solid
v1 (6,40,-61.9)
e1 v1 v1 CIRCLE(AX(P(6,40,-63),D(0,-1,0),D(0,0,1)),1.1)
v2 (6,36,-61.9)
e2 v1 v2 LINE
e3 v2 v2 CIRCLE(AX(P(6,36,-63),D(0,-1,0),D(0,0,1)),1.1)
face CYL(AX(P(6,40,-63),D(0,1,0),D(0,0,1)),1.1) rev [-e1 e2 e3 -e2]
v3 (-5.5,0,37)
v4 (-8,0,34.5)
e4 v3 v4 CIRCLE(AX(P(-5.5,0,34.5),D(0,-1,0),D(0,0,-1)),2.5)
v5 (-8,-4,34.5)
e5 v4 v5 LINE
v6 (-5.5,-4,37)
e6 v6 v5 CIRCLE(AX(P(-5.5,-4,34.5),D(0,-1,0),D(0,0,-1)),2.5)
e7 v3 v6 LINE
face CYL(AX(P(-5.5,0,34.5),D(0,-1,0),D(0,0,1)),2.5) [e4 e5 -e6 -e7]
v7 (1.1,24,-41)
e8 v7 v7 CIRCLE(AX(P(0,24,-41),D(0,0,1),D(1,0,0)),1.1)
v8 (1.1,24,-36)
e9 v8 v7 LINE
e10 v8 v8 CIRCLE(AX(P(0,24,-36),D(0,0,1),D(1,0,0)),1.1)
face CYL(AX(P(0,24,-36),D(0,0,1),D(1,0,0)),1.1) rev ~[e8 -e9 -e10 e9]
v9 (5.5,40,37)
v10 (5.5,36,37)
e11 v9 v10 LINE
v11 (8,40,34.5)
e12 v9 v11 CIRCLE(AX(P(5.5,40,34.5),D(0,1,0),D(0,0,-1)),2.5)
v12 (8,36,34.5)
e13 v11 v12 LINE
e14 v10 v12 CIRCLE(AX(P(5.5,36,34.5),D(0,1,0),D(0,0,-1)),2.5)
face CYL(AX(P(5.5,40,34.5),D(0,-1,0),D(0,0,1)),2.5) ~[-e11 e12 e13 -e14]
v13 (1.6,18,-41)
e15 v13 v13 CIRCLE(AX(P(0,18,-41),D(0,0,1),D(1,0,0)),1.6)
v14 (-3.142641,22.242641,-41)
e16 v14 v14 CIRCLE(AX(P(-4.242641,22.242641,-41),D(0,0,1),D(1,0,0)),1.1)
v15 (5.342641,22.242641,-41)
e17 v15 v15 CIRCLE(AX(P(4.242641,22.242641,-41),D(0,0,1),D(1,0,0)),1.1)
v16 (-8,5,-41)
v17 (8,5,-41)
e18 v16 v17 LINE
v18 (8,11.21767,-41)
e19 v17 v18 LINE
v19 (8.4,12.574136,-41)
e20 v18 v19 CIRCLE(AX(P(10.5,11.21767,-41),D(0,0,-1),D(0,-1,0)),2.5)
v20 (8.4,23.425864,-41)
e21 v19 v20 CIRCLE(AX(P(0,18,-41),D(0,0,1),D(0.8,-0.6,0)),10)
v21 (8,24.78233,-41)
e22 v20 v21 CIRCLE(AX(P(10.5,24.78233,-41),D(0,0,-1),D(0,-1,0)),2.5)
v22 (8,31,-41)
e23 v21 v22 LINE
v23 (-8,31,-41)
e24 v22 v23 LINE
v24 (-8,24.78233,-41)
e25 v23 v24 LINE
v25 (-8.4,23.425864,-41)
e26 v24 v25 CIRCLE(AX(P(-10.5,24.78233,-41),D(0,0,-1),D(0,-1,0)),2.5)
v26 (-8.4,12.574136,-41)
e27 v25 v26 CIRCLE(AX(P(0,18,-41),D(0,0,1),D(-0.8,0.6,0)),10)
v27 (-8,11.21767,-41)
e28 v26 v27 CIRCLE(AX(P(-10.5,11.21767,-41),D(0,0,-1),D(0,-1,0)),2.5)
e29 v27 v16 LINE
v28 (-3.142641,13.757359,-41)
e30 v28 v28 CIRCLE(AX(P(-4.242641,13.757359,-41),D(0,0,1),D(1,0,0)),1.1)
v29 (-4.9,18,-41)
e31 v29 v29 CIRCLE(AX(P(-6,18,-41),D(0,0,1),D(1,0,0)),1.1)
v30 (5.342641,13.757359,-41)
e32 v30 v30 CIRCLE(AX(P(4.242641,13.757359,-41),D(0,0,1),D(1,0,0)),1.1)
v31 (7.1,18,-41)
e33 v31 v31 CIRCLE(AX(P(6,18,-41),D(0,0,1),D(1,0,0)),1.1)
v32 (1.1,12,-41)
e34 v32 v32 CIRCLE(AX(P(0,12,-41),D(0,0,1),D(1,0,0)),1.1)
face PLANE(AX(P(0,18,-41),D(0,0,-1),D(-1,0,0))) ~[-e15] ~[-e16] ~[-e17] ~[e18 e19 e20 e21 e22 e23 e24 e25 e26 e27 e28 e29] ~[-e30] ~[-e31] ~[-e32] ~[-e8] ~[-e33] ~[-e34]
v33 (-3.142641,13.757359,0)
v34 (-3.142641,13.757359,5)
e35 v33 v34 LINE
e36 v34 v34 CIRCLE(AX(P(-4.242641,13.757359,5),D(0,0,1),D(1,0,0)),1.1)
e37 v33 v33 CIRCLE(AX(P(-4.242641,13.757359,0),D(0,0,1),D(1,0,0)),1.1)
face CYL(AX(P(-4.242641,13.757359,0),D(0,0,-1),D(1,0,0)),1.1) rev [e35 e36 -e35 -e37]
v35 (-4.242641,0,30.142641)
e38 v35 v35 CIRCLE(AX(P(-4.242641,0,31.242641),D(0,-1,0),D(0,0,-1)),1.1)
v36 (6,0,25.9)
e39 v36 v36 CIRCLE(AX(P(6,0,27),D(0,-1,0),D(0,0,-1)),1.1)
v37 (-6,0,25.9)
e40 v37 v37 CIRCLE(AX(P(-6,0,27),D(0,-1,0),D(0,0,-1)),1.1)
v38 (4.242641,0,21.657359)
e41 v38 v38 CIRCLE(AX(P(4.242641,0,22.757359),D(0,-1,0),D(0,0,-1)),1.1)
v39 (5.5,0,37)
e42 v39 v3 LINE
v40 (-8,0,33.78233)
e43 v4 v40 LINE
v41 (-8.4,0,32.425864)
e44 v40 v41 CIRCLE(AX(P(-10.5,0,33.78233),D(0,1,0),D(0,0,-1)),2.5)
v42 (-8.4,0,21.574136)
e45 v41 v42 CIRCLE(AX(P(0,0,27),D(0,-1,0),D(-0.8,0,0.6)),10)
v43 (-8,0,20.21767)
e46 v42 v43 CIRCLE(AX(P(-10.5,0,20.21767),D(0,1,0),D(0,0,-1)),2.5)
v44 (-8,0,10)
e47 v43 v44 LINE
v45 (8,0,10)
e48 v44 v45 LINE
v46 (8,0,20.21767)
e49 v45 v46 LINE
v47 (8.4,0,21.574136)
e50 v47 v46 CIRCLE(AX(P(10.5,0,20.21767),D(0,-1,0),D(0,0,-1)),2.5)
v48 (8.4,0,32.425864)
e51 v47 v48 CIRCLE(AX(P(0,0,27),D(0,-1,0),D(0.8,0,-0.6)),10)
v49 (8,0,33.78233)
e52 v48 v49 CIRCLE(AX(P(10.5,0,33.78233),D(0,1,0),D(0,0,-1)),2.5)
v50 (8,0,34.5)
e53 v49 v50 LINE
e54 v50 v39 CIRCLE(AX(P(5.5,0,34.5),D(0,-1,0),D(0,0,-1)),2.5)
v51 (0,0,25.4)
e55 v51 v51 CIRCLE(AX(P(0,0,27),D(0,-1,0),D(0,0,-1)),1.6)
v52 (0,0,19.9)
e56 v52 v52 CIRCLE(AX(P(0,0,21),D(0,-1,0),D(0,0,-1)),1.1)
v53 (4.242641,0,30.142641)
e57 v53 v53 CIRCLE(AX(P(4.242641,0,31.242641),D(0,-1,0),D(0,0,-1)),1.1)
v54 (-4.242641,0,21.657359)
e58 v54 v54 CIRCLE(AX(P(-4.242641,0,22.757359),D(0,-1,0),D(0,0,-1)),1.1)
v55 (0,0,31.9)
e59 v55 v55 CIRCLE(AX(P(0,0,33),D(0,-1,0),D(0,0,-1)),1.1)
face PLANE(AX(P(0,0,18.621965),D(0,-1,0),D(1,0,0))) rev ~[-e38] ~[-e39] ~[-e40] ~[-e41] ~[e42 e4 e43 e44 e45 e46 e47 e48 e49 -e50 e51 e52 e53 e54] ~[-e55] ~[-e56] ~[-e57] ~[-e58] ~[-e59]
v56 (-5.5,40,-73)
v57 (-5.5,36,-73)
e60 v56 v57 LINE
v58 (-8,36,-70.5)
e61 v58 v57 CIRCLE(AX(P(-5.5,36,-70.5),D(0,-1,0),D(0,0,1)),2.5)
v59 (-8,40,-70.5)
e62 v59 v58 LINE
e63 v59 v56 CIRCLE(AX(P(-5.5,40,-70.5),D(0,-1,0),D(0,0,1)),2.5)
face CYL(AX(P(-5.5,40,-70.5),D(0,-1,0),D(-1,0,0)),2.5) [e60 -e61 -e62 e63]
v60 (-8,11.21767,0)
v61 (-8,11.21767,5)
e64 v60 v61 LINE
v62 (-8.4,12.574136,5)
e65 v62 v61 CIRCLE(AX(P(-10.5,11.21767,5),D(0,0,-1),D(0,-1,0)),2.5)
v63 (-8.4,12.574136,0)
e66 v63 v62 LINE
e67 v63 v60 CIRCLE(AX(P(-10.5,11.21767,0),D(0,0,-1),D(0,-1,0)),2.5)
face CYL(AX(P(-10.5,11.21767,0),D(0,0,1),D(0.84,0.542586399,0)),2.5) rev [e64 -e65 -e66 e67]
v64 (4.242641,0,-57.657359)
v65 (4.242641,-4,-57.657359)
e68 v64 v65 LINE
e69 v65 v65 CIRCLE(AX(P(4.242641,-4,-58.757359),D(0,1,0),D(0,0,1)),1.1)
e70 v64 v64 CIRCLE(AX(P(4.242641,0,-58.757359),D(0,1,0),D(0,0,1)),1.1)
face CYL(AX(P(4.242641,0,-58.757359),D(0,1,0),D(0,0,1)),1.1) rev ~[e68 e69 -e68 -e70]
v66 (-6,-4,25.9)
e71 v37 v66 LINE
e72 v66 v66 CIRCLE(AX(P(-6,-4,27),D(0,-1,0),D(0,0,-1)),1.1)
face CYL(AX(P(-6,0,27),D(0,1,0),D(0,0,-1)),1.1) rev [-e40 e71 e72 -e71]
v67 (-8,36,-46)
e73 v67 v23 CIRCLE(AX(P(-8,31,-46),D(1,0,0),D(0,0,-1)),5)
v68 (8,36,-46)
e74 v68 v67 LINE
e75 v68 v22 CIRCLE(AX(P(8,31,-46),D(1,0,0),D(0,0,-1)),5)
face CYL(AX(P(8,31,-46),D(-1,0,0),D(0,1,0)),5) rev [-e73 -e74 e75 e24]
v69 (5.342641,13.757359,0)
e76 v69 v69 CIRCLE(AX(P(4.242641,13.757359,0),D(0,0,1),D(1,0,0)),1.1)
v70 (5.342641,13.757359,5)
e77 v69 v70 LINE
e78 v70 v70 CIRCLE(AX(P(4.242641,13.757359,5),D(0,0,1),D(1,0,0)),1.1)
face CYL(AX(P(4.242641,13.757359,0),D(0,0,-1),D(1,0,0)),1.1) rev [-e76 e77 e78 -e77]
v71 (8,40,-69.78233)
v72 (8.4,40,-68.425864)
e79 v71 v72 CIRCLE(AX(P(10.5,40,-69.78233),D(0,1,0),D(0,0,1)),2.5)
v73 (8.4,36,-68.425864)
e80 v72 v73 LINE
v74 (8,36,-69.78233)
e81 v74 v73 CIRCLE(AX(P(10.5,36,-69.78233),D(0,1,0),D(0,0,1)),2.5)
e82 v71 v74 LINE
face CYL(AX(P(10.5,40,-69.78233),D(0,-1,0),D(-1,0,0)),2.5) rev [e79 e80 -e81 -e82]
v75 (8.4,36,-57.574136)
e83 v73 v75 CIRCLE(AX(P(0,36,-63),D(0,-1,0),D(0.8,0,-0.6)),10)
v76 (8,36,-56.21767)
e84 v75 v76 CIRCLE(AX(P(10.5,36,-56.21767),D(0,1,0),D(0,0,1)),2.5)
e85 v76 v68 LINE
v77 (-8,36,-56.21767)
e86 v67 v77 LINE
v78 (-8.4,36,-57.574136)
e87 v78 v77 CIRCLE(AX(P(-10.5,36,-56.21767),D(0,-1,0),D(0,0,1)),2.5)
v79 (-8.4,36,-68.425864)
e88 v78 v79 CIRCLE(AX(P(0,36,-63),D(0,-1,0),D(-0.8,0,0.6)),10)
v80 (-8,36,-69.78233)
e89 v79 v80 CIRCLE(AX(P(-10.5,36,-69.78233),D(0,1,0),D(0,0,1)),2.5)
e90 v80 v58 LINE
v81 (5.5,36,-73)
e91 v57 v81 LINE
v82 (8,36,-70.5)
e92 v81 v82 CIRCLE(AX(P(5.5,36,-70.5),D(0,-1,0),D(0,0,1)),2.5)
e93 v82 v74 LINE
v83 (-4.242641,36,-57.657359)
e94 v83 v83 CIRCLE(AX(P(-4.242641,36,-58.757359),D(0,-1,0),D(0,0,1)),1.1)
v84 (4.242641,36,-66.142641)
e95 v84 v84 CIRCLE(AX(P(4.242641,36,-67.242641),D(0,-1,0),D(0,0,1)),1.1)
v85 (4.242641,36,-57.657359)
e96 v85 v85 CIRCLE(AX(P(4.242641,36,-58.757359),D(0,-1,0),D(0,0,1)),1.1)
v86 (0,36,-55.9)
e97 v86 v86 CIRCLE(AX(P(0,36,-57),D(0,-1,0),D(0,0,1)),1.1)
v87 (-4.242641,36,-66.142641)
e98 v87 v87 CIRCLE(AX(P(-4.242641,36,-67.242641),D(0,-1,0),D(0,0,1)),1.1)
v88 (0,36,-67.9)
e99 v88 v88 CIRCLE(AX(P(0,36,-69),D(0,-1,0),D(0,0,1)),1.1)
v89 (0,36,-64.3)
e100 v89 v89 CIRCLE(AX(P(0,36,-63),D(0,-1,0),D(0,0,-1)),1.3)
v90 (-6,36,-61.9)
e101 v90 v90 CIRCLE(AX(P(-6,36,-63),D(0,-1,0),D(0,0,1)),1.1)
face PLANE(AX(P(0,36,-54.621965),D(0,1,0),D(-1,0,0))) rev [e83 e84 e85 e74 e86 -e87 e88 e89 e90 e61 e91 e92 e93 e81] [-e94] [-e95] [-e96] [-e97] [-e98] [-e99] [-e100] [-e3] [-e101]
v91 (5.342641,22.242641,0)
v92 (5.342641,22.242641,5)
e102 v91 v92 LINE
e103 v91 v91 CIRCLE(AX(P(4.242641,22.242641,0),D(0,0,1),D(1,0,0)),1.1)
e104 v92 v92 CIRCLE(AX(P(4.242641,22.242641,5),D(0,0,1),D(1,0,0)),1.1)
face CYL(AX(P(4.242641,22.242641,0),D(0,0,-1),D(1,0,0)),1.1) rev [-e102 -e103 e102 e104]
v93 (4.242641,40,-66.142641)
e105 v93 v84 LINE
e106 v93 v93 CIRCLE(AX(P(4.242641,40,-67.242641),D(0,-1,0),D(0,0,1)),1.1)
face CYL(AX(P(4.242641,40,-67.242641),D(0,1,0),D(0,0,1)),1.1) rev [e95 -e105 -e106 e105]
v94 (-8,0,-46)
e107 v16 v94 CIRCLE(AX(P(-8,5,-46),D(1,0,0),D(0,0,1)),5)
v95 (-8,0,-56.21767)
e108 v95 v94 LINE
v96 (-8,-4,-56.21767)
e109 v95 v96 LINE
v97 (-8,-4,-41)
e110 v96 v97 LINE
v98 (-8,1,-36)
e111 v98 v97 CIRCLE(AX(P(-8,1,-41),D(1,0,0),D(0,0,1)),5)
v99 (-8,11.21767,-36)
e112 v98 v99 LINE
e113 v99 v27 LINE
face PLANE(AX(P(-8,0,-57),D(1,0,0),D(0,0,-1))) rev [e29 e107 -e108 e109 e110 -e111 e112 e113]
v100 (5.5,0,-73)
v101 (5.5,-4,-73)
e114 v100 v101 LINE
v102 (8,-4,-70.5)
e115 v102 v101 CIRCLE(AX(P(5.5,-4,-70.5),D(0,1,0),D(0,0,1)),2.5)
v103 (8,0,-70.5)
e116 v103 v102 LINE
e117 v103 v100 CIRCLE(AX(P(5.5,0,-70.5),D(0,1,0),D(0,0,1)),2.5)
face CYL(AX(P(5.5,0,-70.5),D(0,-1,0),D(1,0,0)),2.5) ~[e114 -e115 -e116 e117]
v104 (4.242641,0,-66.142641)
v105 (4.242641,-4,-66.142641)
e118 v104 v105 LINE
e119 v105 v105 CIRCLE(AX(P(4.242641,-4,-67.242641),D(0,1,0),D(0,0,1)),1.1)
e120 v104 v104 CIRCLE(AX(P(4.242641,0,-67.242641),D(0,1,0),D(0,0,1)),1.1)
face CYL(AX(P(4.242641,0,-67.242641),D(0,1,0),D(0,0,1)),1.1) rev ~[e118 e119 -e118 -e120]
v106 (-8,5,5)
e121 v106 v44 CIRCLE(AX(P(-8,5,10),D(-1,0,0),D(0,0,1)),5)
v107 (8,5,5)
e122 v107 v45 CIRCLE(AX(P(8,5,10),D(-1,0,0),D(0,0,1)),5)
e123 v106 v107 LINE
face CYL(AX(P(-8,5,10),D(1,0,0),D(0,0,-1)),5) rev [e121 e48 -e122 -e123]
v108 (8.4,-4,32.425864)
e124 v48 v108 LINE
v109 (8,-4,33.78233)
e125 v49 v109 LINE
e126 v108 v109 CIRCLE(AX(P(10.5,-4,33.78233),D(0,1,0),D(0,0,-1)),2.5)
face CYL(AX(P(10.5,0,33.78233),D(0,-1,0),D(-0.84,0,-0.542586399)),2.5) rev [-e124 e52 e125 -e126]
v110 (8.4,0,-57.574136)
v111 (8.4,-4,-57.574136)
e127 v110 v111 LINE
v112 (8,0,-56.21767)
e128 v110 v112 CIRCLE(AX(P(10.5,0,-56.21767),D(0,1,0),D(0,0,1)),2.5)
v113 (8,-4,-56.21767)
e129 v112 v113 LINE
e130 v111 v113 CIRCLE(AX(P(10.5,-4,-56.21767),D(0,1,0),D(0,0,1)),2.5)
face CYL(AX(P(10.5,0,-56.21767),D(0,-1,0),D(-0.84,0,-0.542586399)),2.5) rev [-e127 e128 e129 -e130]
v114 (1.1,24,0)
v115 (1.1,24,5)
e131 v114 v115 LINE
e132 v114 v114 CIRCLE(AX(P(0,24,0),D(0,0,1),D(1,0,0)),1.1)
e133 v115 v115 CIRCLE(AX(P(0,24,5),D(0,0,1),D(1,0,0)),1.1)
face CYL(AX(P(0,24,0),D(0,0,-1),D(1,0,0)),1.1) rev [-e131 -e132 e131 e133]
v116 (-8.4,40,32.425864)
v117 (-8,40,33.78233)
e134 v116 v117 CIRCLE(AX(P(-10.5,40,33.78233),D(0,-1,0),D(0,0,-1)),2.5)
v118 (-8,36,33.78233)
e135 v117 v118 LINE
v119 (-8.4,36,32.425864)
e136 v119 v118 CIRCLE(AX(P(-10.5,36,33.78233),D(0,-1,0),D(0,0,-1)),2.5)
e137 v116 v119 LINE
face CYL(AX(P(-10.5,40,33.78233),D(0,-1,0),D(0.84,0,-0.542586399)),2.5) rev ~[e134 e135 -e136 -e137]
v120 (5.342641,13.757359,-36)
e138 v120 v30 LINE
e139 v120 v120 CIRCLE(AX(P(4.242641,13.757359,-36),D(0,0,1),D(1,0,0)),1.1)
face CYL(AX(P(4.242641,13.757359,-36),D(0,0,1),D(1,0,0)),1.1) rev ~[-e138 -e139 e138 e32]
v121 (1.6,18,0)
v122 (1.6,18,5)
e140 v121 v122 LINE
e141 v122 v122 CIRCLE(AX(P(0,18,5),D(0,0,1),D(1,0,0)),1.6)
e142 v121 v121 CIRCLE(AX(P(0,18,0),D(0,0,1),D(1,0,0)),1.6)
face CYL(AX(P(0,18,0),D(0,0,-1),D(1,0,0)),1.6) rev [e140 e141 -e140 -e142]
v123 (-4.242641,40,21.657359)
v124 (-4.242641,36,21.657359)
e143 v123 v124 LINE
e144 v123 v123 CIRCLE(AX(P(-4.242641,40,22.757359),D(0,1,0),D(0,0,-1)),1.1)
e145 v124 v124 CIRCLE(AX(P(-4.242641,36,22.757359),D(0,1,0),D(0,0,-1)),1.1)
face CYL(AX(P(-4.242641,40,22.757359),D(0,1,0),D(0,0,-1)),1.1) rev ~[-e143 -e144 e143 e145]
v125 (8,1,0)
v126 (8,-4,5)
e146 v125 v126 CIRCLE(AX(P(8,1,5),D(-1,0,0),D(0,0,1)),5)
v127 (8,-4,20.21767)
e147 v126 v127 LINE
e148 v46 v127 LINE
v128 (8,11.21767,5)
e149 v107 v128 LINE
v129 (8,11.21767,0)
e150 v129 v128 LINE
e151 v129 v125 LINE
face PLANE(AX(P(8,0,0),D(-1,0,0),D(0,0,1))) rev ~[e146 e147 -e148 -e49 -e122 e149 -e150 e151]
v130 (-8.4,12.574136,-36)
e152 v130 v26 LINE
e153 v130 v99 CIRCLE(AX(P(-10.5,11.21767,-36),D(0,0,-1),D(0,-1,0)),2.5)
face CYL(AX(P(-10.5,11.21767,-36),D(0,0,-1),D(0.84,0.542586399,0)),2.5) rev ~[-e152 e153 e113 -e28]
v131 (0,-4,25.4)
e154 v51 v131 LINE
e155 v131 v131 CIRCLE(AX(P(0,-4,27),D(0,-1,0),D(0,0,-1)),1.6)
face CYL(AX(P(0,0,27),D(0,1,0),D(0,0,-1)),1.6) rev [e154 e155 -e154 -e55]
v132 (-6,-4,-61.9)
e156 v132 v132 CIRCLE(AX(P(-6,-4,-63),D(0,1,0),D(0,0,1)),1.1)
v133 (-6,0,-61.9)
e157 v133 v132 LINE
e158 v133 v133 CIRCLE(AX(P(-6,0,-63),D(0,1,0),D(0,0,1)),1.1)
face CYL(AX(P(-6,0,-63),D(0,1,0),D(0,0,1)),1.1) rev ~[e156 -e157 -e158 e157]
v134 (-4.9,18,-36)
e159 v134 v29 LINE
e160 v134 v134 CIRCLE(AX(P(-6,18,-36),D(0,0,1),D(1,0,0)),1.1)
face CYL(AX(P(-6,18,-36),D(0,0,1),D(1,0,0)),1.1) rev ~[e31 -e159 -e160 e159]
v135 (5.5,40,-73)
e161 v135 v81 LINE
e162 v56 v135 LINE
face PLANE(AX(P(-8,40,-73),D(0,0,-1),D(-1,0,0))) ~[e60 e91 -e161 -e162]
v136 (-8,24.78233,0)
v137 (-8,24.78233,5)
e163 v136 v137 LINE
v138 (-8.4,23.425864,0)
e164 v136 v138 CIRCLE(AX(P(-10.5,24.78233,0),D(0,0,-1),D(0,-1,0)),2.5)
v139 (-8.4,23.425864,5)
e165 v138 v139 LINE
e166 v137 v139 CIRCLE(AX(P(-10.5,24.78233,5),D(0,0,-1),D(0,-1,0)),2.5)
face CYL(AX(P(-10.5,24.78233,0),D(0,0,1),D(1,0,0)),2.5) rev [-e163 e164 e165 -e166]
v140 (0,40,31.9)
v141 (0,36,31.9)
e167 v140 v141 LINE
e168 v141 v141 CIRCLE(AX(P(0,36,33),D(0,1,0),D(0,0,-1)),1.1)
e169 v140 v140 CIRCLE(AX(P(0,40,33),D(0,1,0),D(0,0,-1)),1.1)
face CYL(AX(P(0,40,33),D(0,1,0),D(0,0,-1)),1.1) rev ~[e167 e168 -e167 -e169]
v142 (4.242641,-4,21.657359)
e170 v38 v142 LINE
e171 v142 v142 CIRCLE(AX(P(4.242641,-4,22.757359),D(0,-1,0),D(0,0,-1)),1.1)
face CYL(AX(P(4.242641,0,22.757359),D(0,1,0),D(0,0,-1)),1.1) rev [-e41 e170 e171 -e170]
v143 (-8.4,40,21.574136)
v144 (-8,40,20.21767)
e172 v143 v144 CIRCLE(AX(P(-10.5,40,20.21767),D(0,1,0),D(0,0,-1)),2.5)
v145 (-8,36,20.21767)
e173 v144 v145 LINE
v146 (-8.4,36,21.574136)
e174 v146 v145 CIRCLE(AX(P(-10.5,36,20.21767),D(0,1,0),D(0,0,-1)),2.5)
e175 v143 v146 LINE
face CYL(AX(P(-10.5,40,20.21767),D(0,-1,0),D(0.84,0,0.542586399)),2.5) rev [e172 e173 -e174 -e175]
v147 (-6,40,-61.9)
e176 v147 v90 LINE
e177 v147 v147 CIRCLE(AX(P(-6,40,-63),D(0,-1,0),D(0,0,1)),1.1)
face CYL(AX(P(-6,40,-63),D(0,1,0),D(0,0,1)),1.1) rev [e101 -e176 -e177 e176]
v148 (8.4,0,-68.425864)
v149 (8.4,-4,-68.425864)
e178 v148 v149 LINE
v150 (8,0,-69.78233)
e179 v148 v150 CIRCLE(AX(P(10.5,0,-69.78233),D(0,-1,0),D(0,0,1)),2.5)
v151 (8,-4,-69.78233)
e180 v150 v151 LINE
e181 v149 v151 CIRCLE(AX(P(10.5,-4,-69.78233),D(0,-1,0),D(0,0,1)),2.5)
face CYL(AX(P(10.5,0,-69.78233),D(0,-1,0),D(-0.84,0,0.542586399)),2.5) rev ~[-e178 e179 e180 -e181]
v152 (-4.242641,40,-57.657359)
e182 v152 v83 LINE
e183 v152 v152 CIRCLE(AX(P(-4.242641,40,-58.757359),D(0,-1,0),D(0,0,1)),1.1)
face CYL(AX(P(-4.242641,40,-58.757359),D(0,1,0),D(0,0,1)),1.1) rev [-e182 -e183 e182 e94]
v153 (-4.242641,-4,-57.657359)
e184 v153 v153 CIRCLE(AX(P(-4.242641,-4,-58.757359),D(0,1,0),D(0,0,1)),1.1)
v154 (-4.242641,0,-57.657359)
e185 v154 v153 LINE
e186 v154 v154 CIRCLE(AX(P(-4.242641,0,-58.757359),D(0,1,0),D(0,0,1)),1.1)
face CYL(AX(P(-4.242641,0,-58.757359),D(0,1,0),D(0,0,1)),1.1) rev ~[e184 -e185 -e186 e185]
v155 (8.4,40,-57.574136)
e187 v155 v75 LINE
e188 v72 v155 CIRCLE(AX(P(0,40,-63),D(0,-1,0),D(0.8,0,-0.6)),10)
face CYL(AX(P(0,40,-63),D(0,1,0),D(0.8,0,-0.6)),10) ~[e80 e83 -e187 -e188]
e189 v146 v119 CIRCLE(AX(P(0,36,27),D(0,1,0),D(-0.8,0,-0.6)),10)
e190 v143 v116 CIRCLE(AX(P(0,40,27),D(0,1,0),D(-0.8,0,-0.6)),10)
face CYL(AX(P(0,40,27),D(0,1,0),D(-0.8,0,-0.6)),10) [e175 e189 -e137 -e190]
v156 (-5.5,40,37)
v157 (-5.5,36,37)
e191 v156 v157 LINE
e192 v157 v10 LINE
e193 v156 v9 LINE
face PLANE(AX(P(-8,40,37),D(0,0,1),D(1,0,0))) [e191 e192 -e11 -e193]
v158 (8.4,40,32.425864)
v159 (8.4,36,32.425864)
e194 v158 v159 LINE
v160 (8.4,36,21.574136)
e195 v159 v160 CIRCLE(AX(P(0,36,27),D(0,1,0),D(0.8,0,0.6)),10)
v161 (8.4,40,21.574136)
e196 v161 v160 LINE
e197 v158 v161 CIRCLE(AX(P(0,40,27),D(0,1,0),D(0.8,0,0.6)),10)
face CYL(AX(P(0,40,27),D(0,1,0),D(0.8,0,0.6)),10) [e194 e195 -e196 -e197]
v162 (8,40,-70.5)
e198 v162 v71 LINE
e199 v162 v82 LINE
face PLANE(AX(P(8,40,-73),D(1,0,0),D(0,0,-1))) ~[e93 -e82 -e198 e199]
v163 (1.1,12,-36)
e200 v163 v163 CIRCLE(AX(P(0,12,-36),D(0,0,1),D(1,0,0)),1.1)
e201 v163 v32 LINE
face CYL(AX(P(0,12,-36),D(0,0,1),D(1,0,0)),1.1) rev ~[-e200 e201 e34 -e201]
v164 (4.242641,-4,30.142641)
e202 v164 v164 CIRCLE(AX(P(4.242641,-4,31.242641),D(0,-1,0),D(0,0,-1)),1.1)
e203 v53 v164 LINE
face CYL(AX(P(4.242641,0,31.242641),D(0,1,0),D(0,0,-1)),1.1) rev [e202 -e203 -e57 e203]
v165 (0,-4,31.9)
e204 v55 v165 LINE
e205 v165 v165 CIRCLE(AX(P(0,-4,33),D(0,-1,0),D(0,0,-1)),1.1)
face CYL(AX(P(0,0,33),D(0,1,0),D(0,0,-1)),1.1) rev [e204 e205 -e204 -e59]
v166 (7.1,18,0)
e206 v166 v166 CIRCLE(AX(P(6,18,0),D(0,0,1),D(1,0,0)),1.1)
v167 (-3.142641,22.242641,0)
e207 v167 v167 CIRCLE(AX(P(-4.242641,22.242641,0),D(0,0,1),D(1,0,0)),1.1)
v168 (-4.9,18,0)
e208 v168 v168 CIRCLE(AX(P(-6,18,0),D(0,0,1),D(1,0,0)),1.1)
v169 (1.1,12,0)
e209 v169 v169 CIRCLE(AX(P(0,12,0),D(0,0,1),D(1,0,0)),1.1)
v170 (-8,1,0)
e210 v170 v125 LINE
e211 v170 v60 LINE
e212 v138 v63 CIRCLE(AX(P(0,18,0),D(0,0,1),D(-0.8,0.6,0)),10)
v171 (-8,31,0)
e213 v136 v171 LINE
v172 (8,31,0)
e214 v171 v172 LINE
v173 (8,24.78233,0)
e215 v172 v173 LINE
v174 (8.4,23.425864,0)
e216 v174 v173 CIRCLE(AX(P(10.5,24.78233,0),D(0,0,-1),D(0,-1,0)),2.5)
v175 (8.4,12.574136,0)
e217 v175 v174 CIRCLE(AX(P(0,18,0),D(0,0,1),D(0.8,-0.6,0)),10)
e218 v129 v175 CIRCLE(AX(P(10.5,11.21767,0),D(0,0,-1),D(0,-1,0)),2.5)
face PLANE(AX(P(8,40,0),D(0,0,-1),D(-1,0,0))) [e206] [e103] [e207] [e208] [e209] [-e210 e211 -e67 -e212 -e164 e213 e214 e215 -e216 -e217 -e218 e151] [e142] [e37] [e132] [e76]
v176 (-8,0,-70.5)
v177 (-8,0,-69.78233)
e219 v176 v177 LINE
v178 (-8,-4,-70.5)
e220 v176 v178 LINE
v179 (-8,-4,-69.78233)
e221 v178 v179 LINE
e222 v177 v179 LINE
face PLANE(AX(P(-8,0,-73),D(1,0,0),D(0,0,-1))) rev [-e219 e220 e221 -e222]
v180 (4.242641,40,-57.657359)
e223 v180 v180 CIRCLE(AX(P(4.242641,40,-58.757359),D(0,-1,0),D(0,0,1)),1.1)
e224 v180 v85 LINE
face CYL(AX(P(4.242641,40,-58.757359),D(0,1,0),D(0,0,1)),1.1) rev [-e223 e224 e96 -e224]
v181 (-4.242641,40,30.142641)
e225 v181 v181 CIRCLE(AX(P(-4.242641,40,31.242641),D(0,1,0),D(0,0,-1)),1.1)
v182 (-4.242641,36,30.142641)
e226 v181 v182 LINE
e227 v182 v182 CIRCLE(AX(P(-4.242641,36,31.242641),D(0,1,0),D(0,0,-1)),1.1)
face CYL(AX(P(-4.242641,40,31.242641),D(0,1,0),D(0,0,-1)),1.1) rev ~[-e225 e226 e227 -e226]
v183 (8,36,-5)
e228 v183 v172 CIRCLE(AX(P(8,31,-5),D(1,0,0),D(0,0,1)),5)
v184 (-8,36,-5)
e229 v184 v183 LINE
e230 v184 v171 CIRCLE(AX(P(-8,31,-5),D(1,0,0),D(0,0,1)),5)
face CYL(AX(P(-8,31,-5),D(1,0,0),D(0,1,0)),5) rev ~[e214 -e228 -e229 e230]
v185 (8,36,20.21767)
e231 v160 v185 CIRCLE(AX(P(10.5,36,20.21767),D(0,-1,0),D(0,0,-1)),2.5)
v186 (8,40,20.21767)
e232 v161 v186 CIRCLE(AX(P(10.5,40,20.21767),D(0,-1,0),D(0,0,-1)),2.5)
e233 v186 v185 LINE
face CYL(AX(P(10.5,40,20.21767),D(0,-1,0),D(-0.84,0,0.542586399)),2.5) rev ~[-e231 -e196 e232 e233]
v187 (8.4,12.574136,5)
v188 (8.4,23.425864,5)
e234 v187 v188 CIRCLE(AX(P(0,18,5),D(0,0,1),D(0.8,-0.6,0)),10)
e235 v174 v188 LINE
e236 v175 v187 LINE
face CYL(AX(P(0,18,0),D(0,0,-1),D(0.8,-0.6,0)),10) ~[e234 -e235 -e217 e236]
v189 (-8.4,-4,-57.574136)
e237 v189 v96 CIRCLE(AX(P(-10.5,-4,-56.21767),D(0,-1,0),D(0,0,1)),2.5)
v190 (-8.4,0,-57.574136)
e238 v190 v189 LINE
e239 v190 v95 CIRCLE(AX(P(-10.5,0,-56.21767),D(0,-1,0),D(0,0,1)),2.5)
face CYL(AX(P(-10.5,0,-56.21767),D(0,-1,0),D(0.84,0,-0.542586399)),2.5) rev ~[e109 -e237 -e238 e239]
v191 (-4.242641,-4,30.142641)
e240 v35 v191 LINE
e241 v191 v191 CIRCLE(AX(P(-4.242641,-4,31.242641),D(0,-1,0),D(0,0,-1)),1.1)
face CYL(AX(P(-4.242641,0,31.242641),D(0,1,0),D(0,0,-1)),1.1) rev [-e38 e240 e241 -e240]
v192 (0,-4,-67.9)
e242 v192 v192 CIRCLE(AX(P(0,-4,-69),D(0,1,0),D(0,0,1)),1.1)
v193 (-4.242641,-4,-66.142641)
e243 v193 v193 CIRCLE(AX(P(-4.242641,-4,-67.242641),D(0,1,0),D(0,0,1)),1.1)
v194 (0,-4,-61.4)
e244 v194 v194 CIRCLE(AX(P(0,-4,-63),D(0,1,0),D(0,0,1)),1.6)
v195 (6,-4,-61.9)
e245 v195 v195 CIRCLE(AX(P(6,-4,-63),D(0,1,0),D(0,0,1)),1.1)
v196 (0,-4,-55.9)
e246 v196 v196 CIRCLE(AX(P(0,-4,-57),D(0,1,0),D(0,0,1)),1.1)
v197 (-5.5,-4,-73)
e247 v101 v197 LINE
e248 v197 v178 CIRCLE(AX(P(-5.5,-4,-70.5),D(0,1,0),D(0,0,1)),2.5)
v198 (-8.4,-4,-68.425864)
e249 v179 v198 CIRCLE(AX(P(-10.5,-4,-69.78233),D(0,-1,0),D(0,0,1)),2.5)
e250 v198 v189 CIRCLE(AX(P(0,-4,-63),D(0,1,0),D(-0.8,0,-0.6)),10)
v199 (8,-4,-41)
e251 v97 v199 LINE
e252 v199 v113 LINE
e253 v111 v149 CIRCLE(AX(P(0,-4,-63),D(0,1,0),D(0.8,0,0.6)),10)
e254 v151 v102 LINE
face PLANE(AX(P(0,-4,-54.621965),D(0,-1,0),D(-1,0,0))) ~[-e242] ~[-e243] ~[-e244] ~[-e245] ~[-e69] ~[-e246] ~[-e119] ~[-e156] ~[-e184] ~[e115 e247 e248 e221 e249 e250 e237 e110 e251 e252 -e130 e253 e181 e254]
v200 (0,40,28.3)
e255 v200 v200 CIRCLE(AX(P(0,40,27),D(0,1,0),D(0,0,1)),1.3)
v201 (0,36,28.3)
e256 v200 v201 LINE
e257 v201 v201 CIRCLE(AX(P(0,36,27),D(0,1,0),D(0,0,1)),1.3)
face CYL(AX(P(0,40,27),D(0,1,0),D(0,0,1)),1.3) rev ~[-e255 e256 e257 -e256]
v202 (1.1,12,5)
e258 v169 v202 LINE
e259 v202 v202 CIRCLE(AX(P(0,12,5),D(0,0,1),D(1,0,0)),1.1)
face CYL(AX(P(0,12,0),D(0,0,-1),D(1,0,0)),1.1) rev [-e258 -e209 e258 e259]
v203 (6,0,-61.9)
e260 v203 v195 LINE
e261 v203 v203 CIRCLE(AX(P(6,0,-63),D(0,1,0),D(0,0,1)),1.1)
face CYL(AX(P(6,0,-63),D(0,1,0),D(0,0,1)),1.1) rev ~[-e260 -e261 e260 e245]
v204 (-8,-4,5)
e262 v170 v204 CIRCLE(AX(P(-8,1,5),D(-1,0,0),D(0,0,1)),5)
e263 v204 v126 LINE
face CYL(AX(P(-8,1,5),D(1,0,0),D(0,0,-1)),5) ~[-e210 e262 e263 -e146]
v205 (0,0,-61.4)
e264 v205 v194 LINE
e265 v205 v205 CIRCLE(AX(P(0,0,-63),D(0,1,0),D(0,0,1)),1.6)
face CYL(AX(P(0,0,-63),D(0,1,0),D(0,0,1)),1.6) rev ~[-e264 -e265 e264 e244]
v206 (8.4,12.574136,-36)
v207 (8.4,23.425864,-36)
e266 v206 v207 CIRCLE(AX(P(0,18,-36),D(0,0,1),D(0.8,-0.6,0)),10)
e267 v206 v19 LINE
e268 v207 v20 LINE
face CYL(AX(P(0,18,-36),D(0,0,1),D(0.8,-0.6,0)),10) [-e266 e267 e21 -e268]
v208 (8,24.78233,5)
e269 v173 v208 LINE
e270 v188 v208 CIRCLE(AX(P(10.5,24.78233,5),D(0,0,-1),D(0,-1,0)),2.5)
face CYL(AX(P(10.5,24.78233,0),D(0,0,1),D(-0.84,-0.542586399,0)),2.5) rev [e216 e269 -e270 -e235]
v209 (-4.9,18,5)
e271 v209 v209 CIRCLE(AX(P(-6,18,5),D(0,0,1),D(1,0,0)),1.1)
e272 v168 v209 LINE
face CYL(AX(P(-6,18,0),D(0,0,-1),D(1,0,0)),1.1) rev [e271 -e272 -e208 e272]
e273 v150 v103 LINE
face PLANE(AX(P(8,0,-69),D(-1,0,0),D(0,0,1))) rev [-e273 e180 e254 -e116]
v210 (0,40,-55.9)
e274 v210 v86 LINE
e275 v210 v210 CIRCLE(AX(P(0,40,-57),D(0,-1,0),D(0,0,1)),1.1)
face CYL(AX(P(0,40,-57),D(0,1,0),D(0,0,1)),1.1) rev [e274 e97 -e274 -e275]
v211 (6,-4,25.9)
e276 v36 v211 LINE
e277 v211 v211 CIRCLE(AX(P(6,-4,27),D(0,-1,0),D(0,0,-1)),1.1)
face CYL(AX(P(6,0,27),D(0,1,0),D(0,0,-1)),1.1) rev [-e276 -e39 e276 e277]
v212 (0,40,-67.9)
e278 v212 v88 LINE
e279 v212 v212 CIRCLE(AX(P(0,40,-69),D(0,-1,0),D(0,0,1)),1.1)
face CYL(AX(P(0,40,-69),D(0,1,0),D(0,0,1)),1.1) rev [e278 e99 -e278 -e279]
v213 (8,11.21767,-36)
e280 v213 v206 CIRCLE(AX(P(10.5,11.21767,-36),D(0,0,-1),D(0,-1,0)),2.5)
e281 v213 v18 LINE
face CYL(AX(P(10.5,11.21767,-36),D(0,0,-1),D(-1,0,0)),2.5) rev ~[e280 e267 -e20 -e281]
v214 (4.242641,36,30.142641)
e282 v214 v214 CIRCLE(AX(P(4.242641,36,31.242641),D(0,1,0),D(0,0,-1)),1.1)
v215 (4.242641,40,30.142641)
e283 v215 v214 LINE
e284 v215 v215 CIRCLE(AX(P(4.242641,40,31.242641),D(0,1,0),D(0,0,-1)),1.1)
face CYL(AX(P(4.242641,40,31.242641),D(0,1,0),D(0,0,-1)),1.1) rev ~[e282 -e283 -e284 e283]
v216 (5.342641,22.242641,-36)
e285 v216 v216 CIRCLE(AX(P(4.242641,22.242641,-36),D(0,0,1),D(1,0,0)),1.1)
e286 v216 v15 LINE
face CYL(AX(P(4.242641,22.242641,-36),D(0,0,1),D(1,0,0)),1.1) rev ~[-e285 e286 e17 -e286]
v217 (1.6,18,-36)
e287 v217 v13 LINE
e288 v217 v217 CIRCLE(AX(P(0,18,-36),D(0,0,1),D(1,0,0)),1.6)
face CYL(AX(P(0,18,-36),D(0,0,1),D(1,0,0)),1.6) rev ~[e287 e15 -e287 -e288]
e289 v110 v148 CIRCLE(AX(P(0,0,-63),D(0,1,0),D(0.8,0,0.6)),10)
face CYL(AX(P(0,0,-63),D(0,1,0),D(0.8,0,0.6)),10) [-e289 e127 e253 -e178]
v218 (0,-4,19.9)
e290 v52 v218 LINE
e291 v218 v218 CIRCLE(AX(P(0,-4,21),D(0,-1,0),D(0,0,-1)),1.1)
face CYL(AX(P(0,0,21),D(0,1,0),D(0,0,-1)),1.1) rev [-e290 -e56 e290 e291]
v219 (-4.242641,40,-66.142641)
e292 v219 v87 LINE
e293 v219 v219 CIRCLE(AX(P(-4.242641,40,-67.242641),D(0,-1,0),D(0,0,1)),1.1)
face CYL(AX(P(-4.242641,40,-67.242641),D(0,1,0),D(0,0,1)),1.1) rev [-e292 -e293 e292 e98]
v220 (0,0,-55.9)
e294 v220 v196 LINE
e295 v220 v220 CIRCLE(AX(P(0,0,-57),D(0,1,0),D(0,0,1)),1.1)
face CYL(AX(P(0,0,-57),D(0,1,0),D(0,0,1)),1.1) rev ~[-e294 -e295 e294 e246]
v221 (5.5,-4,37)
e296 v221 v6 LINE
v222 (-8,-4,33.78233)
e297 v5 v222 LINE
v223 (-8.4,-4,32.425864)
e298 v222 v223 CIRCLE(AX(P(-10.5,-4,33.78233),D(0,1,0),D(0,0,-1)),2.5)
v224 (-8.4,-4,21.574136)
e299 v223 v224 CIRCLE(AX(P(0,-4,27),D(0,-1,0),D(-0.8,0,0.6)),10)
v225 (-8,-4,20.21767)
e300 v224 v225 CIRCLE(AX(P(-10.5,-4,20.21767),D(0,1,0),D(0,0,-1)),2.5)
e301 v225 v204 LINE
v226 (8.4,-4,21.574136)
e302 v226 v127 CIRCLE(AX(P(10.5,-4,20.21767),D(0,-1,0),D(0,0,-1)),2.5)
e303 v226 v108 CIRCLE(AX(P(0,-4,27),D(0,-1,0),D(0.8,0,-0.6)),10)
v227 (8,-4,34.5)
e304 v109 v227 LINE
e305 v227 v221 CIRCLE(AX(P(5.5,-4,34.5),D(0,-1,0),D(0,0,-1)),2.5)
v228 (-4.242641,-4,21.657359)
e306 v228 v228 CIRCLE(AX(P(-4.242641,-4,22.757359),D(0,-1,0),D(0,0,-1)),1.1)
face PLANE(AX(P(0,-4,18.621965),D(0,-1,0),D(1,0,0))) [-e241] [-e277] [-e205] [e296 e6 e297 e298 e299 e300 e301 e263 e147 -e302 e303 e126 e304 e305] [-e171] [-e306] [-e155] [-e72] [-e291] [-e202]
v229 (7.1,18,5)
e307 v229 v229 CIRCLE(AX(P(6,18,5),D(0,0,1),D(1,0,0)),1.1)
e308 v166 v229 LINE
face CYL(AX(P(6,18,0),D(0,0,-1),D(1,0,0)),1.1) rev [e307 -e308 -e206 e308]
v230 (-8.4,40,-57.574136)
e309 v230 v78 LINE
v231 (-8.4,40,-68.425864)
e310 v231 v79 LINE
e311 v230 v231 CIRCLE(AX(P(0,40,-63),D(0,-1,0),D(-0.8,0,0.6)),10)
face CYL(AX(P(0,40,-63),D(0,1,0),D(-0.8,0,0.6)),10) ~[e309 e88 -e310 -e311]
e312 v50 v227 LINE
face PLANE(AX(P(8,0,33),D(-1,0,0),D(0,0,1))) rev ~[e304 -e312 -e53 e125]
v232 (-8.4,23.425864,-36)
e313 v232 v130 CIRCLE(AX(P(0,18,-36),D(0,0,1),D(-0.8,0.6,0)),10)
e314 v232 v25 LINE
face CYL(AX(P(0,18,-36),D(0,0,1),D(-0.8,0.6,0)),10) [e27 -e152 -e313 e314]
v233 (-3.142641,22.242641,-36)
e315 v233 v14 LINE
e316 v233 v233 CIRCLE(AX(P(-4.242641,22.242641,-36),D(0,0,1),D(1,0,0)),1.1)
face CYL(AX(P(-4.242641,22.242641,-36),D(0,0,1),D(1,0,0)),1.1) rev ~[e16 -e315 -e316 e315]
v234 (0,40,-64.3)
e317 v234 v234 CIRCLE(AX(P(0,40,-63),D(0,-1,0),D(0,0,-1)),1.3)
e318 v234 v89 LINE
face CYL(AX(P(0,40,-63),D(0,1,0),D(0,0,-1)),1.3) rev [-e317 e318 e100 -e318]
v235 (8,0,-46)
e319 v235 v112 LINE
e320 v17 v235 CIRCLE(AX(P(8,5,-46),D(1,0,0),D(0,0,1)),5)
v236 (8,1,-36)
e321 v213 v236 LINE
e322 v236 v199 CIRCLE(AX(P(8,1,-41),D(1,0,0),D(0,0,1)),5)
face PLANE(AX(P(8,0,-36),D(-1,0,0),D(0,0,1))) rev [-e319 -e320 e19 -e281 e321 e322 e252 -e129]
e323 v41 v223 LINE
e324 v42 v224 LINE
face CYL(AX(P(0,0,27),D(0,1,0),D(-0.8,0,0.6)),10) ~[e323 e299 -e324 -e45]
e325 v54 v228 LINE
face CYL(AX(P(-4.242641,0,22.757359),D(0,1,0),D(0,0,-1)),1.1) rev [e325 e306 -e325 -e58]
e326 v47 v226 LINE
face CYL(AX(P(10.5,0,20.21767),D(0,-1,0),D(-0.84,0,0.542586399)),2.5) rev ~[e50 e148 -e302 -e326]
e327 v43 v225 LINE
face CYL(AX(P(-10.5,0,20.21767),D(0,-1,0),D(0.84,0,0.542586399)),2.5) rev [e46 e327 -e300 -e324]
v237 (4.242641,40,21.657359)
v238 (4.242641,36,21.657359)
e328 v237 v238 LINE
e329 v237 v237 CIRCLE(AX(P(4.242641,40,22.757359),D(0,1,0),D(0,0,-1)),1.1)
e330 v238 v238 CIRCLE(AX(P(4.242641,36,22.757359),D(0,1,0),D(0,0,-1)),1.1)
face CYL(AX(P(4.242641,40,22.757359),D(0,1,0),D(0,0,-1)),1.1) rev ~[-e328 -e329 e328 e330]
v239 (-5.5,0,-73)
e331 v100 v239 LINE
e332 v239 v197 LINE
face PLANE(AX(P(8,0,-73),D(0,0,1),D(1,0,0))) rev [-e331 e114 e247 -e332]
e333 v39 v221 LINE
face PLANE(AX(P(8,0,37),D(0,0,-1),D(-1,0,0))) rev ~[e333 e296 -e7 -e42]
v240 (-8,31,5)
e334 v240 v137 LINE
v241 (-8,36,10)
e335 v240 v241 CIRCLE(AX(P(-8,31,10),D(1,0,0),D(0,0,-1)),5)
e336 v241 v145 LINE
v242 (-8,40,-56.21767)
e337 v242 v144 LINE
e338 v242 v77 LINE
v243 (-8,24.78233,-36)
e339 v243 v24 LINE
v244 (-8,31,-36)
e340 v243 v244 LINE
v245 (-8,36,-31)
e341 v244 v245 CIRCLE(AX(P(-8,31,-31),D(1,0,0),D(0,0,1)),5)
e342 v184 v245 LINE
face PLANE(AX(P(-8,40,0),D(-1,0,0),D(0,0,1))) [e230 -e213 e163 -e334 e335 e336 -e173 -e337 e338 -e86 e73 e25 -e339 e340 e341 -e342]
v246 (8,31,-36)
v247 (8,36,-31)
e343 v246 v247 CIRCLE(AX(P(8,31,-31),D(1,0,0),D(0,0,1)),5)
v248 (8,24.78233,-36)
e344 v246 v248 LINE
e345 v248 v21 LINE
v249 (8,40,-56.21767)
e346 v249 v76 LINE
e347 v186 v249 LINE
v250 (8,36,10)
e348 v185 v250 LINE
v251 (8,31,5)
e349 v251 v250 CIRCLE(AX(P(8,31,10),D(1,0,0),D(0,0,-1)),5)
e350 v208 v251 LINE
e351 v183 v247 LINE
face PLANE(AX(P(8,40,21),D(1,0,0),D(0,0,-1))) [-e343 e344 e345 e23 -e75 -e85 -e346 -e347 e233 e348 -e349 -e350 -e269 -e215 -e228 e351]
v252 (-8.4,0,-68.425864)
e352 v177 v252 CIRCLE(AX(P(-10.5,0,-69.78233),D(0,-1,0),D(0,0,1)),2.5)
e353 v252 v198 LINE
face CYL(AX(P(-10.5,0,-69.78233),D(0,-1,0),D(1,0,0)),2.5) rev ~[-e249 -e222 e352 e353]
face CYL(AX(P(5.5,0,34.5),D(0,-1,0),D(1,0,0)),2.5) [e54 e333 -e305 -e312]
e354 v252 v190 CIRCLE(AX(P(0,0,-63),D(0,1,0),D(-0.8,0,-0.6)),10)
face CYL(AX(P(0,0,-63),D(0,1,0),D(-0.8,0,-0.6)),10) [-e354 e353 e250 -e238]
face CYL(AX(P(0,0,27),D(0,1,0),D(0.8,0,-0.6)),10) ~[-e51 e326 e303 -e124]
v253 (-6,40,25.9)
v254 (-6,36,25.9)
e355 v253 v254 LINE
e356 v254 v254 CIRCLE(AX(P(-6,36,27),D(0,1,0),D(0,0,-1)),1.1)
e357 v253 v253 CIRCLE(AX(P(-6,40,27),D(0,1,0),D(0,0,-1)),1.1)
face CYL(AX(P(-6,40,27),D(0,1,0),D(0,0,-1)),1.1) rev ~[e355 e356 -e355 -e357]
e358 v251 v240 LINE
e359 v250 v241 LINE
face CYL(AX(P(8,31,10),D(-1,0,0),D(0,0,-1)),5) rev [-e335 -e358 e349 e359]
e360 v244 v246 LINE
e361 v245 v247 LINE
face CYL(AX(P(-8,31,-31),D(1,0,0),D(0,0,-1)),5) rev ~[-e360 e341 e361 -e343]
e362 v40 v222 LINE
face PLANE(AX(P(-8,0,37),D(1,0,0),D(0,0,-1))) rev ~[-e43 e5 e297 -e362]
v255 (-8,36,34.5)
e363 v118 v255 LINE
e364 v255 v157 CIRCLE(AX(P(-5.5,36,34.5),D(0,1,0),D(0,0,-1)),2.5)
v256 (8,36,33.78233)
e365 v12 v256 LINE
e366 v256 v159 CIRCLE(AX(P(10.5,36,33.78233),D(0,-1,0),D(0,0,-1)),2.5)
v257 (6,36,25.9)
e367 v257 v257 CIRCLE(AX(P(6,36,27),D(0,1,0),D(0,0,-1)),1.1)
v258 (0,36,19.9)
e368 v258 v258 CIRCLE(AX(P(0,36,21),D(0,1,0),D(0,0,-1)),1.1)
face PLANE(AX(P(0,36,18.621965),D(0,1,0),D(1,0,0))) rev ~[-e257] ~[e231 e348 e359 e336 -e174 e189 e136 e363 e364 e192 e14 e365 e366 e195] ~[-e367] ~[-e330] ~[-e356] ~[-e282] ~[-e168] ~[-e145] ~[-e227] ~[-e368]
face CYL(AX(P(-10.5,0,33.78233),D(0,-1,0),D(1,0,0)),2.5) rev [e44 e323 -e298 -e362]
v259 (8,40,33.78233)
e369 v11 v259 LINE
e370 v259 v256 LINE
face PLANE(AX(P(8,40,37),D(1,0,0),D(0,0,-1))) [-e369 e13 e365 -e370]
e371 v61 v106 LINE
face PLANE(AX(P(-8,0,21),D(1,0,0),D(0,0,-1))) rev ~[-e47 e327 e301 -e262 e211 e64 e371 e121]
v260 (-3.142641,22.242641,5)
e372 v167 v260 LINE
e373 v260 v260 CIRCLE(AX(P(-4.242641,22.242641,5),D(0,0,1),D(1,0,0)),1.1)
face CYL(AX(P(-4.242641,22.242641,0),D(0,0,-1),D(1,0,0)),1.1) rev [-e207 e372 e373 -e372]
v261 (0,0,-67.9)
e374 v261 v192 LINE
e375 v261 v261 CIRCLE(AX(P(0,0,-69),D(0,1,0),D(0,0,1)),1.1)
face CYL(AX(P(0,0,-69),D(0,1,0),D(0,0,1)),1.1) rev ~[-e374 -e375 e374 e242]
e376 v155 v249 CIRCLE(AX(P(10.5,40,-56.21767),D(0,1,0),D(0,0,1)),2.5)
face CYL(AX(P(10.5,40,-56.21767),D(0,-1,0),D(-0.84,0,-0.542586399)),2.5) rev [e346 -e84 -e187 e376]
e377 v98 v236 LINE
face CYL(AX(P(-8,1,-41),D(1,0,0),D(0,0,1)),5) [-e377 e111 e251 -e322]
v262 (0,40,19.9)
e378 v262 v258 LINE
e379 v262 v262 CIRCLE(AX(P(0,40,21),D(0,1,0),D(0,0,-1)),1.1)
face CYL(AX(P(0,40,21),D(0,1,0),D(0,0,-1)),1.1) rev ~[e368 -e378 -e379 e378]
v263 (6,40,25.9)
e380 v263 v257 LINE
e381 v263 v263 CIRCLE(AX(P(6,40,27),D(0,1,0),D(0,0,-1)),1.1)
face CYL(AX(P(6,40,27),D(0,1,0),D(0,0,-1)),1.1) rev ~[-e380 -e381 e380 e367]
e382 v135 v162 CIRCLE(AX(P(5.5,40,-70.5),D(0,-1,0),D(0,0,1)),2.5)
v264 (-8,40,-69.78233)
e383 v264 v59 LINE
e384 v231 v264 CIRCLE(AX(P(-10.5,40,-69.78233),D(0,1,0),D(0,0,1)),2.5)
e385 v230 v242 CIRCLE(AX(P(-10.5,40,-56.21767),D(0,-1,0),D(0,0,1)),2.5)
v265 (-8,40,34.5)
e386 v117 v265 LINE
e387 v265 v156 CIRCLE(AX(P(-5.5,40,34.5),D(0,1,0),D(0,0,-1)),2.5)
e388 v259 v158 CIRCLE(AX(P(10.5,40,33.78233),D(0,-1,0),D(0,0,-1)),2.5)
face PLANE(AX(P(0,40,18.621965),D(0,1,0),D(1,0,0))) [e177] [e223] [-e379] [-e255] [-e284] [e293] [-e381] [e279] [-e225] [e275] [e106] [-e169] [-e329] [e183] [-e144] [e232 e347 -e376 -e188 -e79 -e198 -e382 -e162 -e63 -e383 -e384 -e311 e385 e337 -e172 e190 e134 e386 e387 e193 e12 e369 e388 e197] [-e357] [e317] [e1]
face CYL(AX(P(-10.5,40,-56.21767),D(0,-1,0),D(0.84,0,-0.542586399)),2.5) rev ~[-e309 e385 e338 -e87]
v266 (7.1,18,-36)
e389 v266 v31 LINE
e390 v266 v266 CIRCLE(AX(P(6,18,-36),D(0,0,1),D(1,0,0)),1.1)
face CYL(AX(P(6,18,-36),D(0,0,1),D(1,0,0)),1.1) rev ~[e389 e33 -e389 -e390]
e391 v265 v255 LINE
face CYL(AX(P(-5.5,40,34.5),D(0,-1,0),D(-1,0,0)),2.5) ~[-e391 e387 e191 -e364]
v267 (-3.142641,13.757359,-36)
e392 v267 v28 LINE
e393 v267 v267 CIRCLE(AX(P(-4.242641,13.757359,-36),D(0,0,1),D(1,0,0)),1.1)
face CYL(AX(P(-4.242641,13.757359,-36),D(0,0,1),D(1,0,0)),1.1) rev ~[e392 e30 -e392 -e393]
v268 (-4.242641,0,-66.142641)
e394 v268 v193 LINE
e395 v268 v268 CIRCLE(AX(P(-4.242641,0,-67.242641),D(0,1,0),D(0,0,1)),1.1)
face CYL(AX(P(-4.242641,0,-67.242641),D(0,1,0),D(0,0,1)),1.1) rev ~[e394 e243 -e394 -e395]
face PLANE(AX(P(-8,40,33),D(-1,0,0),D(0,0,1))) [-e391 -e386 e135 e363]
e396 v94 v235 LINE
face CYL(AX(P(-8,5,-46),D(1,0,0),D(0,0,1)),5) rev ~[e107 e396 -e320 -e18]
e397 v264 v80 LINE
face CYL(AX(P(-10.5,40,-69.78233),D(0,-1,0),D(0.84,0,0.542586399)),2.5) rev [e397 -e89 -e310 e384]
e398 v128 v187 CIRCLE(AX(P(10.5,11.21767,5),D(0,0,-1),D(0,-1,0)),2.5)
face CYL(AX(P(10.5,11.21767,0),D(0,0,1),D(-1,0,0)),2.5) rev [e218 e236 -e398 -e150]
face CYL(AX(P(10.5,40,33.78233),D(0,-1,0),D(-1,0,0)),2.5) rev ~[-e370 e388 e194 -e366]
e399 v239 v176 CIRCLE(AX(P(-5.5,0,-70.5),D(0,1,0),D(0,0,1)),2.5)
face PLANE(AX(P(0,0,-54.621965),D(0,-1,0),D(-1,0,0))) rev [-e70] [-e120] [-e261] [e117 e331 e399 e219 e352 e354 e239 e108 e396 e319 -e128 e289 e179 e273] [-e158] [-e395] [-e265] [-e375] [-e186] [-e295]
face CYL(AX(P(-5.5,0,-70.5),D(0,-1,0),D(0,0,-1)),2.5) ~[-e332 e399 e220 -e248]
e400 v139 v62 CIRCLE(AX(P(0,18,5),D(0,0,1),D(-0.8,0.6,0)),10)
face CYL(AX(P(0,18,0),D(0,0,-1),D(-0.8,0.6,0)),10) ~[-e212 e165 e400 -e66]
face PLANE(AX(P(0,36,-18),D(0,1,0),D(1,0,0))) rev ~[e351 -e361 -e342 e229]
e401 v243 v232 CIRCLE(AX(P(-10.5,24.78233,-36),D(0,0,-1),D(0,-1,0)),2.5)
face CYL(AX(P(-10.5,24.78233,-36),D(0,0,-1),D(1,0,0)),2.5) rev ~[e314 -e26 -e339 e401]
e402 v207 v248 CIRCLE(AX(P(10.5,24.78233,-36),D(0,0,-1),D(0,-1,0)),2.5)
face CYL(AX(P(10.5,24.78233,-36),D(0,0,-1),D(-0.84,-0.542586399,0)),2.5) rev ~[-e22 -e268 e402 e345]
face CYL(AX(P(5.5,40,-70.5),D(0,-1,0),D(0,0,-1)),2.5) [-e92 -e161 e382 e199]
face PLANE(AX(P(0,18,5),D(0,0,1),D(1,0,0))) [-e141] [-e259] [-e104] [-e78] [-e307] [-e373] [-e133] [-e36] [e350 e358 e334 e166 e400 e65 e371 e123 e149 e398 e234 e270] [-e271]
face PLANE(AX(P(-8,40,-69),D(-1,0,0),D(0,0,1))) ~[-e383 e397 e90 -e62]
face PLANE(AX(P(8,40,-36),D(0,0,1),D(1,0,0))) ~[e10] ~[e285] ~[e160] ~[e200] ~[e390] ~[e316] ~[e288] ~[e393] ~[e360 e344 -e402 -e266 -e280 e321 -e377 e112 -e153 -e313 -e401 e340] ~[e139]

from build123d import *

# Parameters (mm, degrees)
SKETCH_1_R      = 1.6
SKETCH_1_R_2    = 1.1
EXTRUDE_1_DEPTH = 5
SKETCH_2_R      = 1.6
SKETCH_2_R_2    = 1.1
EXTRUDE_2_DEPTH = 4
EXTRUDE_START   = 4
SKETCH_3_R      = 1.1
SKETCH_3_R_2    = 1.3
EXTRUDE_3_DEPTH = 4
FILLET_2_R      = 2.5
SKETCH_4_W      = 16
SKETCH_4_H      = 46
EXTRUDE_4_DEPTH = 4
FILLET_3_R      = 5


with BuildPart() as part:
    # ｽｹｯﾁ1 → ﾎﾞｽ - 押し出し1 (new body)
    with BuildSketch(Plane.XY):
        with BuildLine():
            Line((-8, 0), (8, 0))
            Line((8, 0), (8, 12))
            ThreePointArc((8, 12), (10, 18), (8, 24))
            Line((8, 24), (8, 36))
            Line((8, 36), (-8, 36))
            Line((-8, 36), (-8, 24))
            ThreePointArc((-8, 24), (-10, 18), (-8, 12))
            Line((-8, 12), (-8, 0))
        make_face()
        with Locations((0, 18)):
            Circle(SKETCH_1_R, mode=Mode.SUBTRACT)
        with Locations((0, 24)):
            Circle(SKETCH_1_R_2, mode=Mode.SUBTRACT)
        with Locations((4.242640687, 22.242640687)):
            Circle(SKETCH_1_R_2, mode=Mode.SUBTRACT)
        with Locations((6, 18)):
            Circle(SKETCH_1_R_2, mode=Mode.SUBTRACT)
        with Locations((4.242640687, 13.757359313)):
            Circle(SKETCH_1_R_2, mode=Mode.SUBTRACT)
        with Locations((0, 12)):
            Circle(SKETCH_1_R_2, mode=Mode.SUBTRACT)
        with Locations((-4.242640687, 13.757359313)):
            Circle(SKETCH_1_R_2, mode=Mode.SUBTRACT)
        with Locations((-6, 18)):
            Circle(SKETCH_1_R_2, mode=Mode.SUBTRACT)
        with Locations((-4.242640687, 22.242640687)):
            Circle(SKETCH_1_R_2, mode=Mode.SUBTRACT)
    extrude(amount=EXTRUDE_1_DEPTH)

    # ｽｹｯﾁ2 → ﾎﾞｽ - 押し出し2 (add)
    with BuildSketch(Plane.XZ):
        with BuildLine():
            Line((-8, 0), (8, 0))
            Line((8, 0), (8, 21))
            ThreePointArc((8, 21), (10, 27), (8, 33))
            Line((8, 33), (8, 37))
            Line((8, 37), (-8, 37))
            Line((-8, 37), (-8, 33))
            ThreePointArc((-8, 33), (-10, 27), (-8, 21))
            Line((-8, 21), (-8, 0))
        make_face()
        with Locations(Location((0, 27, 0), (0, 0, 270))):
            Circle(SKETCH_2_R, mode=Mode.SUBTRACT)
        with Locations(Location((6, 27, 0), (0, 0, 270))):
            Circle(SKETCH_2_R_2, mode=Mode.SUBTRACT)
        with Locations(Location((4.242640687, 22.757359313, 0), (0, 0, 270))):
            Circle(SKETCH_2_R_2, mode=Mode.SUBTRACT)
        with Locations(Location((0, 21, 0), (0, 0, 270))):
            Circle(SKETCH_2_R_2, mode=Mode.SUBTRACT)
        with Locations(Location((-4.242640687, 22.757359313, 0), (0, 0, 270))):
            Circle(SKETCH_2_R_2, mode=Mode.SUBTRACT)
        with Locations(Location((-6, 27, 0), (0, 0, 270))):
            Circle(SKETCH_2_R_2, mode=Mode.SUBTRACT)
        with Locations(Location((-4.242640687, 31.242640687, 0), (0, 0, 270))):
            Circle(SKETCH_2_R_2, mode=Mode.SUBTRACT)
        with Locations(Location((0, 33, 0), (0, 0, 270))):
            Circle(SKETCH_2_R_2, mode=Mode.SUBTRACT)
        with Locations(Location((4.242640687, 31.242640687, 0), (0, 0, 270))):
            Circle(SKETCH_2_R_2, mode=Mode.SUBTRACT)
    extrude(amount=EXTRUDE_2_DEPTH)

    # ｽｹｯﾁ3 → ﾎﾞｽ - 押し出し3 (add)
    with BuildSketch(Plane(origin=(0, 36, 0), x_dir=(1, 0, 0), z_dir=(0, 1, 0)).offset(EXTRUDE_START)):
        with BuildLine():
            Line((8, -5), (8, 0))
            Line((8, 0), (-8, 0))
            Line((-8, 0), (-8, -5))
            Line((-8, -5), (-8, -21))
            ThreePointArc((-8, -21), (-10, -27), (-8, -33))
            Line((-8, -33), (-8, -37))
            Line((-8, -37), (8, -37))
            Line((8, -37), (8, -33))
            ThreePointArc((8, -33), (10, -27), (8, -21))
            Line((8, -21), (8, -5))
        make_face()
        with Locations(Location((4.242640687, -22.757359313, 0), (0, 0, 90))):
            Circle(SKETCH_3_R, mode=Mode.SUBTRACT)
        with Locations(Location((0, -21, 0), (0, 0, 90))):
            Circle(SKETCH_3_R, mode=Mode.SUBTRACT)
        with Locations(Location((-4.242640687, -22.757359313, 0), (0, 0, 90))):
            Circle(SKETCH_3_R, mode=Mode.SUBTRACT)
        with Locations(Location((-6, -27, 0), (0, 0, 90))):
            Circle(SKETCH_3_R, mode=Mode.SUBTRACT)
        with Locations(Location((-4.242640687, -31.242640687, 0), (0, 0, 90))):
            Circle(SKETCH_3_R, mode=Mode.SUBTRACT)
        with Locations(Location((0, -33, 0), (0, 0, 90))):
            Circle(SKETCH_3_R, mode=Mode.SUBTRACT)
        with Locations(Location((4.242640687, -31.242640687, 0), (0, 0, 90))):
            Circle(SKETCH_3_R, mode=Mode.SUBTRACT)
        with Locations(Location((6, -27, 0), (0, 0, 90))):
            Circle(SKETCH_3_R, mode=Mode.SUBTRACT)
        with Locations(Location((0, -27, 0), (0, 0, 270))):
            Circle(SKETCH_3_R_2, mode=Mode.SUBTRACT)
    extrude(amount=-EXTRUDE_3_DEPTH)

    # ﾌｨﾚｯﾄ2
    fillet_2_edges = [part.edges().sort_by_distance(p)[0] for p in [
        (8, 38, 21),
        (-8, 38, 21),
        (-8, 38, 33),
        (-8, 38, 37),
        (8, 38, 37),
        (8, 38, 33),
        (-8, 12, 2.5),
        (-8, 24, 2.5),
        (8, 24, 2.5),
        (8, 12, 2.5),
        (-8, -2, 21),
        (8, -2, 21),
        (8, -2, 33),
        (8, -2, 37),
        (-8, -2, 37),
        (-8, -2, 33),
    ]]
    fillet(fillet_2_edges, radius=FILLET_2_R)


with BuildPart() as body_2:
    # ﾐﾗｰ2: mirrored copy
    add(part.part.mirror(Plane.XY.offset(-18)))


with BuildPart() as part_1:
    add(part.part)

    add(body_2.part)  # ﾎﾞｽ - 押し出し4 merges body 2
    # ｽｹｯﾁ4 → ﾎﾞｽ - 押し出し4 (add)
    with BuildSketch(Plane(origin=(0, 40, 0), x_dir=(1, 0, 0), z_dir=(0, 1, 0))):
        with Locations((0, 18)):
            Rectangle(SKETCH_4_W, SKETCH_4_H)
    extrude(amount=-EXTRUDE_4_DEPTH)

    # ﾌｨﾚｯﾄ3
    fillet_3_edges = [part_1.edges().sort_by_distance(p)[0] for p in [
        (0, 36, 5),
        (0, 36, 0),
        (0, 36, -36),
        (0, -4, -36),
        (0, 0, -41),
        (0, 36, -41),
        (0, -4, 0),
        (0, 0, 5),
    ]]
    fillet(fillet_3_edges, radius=FILLET_3_R)


solid = part_1.part
